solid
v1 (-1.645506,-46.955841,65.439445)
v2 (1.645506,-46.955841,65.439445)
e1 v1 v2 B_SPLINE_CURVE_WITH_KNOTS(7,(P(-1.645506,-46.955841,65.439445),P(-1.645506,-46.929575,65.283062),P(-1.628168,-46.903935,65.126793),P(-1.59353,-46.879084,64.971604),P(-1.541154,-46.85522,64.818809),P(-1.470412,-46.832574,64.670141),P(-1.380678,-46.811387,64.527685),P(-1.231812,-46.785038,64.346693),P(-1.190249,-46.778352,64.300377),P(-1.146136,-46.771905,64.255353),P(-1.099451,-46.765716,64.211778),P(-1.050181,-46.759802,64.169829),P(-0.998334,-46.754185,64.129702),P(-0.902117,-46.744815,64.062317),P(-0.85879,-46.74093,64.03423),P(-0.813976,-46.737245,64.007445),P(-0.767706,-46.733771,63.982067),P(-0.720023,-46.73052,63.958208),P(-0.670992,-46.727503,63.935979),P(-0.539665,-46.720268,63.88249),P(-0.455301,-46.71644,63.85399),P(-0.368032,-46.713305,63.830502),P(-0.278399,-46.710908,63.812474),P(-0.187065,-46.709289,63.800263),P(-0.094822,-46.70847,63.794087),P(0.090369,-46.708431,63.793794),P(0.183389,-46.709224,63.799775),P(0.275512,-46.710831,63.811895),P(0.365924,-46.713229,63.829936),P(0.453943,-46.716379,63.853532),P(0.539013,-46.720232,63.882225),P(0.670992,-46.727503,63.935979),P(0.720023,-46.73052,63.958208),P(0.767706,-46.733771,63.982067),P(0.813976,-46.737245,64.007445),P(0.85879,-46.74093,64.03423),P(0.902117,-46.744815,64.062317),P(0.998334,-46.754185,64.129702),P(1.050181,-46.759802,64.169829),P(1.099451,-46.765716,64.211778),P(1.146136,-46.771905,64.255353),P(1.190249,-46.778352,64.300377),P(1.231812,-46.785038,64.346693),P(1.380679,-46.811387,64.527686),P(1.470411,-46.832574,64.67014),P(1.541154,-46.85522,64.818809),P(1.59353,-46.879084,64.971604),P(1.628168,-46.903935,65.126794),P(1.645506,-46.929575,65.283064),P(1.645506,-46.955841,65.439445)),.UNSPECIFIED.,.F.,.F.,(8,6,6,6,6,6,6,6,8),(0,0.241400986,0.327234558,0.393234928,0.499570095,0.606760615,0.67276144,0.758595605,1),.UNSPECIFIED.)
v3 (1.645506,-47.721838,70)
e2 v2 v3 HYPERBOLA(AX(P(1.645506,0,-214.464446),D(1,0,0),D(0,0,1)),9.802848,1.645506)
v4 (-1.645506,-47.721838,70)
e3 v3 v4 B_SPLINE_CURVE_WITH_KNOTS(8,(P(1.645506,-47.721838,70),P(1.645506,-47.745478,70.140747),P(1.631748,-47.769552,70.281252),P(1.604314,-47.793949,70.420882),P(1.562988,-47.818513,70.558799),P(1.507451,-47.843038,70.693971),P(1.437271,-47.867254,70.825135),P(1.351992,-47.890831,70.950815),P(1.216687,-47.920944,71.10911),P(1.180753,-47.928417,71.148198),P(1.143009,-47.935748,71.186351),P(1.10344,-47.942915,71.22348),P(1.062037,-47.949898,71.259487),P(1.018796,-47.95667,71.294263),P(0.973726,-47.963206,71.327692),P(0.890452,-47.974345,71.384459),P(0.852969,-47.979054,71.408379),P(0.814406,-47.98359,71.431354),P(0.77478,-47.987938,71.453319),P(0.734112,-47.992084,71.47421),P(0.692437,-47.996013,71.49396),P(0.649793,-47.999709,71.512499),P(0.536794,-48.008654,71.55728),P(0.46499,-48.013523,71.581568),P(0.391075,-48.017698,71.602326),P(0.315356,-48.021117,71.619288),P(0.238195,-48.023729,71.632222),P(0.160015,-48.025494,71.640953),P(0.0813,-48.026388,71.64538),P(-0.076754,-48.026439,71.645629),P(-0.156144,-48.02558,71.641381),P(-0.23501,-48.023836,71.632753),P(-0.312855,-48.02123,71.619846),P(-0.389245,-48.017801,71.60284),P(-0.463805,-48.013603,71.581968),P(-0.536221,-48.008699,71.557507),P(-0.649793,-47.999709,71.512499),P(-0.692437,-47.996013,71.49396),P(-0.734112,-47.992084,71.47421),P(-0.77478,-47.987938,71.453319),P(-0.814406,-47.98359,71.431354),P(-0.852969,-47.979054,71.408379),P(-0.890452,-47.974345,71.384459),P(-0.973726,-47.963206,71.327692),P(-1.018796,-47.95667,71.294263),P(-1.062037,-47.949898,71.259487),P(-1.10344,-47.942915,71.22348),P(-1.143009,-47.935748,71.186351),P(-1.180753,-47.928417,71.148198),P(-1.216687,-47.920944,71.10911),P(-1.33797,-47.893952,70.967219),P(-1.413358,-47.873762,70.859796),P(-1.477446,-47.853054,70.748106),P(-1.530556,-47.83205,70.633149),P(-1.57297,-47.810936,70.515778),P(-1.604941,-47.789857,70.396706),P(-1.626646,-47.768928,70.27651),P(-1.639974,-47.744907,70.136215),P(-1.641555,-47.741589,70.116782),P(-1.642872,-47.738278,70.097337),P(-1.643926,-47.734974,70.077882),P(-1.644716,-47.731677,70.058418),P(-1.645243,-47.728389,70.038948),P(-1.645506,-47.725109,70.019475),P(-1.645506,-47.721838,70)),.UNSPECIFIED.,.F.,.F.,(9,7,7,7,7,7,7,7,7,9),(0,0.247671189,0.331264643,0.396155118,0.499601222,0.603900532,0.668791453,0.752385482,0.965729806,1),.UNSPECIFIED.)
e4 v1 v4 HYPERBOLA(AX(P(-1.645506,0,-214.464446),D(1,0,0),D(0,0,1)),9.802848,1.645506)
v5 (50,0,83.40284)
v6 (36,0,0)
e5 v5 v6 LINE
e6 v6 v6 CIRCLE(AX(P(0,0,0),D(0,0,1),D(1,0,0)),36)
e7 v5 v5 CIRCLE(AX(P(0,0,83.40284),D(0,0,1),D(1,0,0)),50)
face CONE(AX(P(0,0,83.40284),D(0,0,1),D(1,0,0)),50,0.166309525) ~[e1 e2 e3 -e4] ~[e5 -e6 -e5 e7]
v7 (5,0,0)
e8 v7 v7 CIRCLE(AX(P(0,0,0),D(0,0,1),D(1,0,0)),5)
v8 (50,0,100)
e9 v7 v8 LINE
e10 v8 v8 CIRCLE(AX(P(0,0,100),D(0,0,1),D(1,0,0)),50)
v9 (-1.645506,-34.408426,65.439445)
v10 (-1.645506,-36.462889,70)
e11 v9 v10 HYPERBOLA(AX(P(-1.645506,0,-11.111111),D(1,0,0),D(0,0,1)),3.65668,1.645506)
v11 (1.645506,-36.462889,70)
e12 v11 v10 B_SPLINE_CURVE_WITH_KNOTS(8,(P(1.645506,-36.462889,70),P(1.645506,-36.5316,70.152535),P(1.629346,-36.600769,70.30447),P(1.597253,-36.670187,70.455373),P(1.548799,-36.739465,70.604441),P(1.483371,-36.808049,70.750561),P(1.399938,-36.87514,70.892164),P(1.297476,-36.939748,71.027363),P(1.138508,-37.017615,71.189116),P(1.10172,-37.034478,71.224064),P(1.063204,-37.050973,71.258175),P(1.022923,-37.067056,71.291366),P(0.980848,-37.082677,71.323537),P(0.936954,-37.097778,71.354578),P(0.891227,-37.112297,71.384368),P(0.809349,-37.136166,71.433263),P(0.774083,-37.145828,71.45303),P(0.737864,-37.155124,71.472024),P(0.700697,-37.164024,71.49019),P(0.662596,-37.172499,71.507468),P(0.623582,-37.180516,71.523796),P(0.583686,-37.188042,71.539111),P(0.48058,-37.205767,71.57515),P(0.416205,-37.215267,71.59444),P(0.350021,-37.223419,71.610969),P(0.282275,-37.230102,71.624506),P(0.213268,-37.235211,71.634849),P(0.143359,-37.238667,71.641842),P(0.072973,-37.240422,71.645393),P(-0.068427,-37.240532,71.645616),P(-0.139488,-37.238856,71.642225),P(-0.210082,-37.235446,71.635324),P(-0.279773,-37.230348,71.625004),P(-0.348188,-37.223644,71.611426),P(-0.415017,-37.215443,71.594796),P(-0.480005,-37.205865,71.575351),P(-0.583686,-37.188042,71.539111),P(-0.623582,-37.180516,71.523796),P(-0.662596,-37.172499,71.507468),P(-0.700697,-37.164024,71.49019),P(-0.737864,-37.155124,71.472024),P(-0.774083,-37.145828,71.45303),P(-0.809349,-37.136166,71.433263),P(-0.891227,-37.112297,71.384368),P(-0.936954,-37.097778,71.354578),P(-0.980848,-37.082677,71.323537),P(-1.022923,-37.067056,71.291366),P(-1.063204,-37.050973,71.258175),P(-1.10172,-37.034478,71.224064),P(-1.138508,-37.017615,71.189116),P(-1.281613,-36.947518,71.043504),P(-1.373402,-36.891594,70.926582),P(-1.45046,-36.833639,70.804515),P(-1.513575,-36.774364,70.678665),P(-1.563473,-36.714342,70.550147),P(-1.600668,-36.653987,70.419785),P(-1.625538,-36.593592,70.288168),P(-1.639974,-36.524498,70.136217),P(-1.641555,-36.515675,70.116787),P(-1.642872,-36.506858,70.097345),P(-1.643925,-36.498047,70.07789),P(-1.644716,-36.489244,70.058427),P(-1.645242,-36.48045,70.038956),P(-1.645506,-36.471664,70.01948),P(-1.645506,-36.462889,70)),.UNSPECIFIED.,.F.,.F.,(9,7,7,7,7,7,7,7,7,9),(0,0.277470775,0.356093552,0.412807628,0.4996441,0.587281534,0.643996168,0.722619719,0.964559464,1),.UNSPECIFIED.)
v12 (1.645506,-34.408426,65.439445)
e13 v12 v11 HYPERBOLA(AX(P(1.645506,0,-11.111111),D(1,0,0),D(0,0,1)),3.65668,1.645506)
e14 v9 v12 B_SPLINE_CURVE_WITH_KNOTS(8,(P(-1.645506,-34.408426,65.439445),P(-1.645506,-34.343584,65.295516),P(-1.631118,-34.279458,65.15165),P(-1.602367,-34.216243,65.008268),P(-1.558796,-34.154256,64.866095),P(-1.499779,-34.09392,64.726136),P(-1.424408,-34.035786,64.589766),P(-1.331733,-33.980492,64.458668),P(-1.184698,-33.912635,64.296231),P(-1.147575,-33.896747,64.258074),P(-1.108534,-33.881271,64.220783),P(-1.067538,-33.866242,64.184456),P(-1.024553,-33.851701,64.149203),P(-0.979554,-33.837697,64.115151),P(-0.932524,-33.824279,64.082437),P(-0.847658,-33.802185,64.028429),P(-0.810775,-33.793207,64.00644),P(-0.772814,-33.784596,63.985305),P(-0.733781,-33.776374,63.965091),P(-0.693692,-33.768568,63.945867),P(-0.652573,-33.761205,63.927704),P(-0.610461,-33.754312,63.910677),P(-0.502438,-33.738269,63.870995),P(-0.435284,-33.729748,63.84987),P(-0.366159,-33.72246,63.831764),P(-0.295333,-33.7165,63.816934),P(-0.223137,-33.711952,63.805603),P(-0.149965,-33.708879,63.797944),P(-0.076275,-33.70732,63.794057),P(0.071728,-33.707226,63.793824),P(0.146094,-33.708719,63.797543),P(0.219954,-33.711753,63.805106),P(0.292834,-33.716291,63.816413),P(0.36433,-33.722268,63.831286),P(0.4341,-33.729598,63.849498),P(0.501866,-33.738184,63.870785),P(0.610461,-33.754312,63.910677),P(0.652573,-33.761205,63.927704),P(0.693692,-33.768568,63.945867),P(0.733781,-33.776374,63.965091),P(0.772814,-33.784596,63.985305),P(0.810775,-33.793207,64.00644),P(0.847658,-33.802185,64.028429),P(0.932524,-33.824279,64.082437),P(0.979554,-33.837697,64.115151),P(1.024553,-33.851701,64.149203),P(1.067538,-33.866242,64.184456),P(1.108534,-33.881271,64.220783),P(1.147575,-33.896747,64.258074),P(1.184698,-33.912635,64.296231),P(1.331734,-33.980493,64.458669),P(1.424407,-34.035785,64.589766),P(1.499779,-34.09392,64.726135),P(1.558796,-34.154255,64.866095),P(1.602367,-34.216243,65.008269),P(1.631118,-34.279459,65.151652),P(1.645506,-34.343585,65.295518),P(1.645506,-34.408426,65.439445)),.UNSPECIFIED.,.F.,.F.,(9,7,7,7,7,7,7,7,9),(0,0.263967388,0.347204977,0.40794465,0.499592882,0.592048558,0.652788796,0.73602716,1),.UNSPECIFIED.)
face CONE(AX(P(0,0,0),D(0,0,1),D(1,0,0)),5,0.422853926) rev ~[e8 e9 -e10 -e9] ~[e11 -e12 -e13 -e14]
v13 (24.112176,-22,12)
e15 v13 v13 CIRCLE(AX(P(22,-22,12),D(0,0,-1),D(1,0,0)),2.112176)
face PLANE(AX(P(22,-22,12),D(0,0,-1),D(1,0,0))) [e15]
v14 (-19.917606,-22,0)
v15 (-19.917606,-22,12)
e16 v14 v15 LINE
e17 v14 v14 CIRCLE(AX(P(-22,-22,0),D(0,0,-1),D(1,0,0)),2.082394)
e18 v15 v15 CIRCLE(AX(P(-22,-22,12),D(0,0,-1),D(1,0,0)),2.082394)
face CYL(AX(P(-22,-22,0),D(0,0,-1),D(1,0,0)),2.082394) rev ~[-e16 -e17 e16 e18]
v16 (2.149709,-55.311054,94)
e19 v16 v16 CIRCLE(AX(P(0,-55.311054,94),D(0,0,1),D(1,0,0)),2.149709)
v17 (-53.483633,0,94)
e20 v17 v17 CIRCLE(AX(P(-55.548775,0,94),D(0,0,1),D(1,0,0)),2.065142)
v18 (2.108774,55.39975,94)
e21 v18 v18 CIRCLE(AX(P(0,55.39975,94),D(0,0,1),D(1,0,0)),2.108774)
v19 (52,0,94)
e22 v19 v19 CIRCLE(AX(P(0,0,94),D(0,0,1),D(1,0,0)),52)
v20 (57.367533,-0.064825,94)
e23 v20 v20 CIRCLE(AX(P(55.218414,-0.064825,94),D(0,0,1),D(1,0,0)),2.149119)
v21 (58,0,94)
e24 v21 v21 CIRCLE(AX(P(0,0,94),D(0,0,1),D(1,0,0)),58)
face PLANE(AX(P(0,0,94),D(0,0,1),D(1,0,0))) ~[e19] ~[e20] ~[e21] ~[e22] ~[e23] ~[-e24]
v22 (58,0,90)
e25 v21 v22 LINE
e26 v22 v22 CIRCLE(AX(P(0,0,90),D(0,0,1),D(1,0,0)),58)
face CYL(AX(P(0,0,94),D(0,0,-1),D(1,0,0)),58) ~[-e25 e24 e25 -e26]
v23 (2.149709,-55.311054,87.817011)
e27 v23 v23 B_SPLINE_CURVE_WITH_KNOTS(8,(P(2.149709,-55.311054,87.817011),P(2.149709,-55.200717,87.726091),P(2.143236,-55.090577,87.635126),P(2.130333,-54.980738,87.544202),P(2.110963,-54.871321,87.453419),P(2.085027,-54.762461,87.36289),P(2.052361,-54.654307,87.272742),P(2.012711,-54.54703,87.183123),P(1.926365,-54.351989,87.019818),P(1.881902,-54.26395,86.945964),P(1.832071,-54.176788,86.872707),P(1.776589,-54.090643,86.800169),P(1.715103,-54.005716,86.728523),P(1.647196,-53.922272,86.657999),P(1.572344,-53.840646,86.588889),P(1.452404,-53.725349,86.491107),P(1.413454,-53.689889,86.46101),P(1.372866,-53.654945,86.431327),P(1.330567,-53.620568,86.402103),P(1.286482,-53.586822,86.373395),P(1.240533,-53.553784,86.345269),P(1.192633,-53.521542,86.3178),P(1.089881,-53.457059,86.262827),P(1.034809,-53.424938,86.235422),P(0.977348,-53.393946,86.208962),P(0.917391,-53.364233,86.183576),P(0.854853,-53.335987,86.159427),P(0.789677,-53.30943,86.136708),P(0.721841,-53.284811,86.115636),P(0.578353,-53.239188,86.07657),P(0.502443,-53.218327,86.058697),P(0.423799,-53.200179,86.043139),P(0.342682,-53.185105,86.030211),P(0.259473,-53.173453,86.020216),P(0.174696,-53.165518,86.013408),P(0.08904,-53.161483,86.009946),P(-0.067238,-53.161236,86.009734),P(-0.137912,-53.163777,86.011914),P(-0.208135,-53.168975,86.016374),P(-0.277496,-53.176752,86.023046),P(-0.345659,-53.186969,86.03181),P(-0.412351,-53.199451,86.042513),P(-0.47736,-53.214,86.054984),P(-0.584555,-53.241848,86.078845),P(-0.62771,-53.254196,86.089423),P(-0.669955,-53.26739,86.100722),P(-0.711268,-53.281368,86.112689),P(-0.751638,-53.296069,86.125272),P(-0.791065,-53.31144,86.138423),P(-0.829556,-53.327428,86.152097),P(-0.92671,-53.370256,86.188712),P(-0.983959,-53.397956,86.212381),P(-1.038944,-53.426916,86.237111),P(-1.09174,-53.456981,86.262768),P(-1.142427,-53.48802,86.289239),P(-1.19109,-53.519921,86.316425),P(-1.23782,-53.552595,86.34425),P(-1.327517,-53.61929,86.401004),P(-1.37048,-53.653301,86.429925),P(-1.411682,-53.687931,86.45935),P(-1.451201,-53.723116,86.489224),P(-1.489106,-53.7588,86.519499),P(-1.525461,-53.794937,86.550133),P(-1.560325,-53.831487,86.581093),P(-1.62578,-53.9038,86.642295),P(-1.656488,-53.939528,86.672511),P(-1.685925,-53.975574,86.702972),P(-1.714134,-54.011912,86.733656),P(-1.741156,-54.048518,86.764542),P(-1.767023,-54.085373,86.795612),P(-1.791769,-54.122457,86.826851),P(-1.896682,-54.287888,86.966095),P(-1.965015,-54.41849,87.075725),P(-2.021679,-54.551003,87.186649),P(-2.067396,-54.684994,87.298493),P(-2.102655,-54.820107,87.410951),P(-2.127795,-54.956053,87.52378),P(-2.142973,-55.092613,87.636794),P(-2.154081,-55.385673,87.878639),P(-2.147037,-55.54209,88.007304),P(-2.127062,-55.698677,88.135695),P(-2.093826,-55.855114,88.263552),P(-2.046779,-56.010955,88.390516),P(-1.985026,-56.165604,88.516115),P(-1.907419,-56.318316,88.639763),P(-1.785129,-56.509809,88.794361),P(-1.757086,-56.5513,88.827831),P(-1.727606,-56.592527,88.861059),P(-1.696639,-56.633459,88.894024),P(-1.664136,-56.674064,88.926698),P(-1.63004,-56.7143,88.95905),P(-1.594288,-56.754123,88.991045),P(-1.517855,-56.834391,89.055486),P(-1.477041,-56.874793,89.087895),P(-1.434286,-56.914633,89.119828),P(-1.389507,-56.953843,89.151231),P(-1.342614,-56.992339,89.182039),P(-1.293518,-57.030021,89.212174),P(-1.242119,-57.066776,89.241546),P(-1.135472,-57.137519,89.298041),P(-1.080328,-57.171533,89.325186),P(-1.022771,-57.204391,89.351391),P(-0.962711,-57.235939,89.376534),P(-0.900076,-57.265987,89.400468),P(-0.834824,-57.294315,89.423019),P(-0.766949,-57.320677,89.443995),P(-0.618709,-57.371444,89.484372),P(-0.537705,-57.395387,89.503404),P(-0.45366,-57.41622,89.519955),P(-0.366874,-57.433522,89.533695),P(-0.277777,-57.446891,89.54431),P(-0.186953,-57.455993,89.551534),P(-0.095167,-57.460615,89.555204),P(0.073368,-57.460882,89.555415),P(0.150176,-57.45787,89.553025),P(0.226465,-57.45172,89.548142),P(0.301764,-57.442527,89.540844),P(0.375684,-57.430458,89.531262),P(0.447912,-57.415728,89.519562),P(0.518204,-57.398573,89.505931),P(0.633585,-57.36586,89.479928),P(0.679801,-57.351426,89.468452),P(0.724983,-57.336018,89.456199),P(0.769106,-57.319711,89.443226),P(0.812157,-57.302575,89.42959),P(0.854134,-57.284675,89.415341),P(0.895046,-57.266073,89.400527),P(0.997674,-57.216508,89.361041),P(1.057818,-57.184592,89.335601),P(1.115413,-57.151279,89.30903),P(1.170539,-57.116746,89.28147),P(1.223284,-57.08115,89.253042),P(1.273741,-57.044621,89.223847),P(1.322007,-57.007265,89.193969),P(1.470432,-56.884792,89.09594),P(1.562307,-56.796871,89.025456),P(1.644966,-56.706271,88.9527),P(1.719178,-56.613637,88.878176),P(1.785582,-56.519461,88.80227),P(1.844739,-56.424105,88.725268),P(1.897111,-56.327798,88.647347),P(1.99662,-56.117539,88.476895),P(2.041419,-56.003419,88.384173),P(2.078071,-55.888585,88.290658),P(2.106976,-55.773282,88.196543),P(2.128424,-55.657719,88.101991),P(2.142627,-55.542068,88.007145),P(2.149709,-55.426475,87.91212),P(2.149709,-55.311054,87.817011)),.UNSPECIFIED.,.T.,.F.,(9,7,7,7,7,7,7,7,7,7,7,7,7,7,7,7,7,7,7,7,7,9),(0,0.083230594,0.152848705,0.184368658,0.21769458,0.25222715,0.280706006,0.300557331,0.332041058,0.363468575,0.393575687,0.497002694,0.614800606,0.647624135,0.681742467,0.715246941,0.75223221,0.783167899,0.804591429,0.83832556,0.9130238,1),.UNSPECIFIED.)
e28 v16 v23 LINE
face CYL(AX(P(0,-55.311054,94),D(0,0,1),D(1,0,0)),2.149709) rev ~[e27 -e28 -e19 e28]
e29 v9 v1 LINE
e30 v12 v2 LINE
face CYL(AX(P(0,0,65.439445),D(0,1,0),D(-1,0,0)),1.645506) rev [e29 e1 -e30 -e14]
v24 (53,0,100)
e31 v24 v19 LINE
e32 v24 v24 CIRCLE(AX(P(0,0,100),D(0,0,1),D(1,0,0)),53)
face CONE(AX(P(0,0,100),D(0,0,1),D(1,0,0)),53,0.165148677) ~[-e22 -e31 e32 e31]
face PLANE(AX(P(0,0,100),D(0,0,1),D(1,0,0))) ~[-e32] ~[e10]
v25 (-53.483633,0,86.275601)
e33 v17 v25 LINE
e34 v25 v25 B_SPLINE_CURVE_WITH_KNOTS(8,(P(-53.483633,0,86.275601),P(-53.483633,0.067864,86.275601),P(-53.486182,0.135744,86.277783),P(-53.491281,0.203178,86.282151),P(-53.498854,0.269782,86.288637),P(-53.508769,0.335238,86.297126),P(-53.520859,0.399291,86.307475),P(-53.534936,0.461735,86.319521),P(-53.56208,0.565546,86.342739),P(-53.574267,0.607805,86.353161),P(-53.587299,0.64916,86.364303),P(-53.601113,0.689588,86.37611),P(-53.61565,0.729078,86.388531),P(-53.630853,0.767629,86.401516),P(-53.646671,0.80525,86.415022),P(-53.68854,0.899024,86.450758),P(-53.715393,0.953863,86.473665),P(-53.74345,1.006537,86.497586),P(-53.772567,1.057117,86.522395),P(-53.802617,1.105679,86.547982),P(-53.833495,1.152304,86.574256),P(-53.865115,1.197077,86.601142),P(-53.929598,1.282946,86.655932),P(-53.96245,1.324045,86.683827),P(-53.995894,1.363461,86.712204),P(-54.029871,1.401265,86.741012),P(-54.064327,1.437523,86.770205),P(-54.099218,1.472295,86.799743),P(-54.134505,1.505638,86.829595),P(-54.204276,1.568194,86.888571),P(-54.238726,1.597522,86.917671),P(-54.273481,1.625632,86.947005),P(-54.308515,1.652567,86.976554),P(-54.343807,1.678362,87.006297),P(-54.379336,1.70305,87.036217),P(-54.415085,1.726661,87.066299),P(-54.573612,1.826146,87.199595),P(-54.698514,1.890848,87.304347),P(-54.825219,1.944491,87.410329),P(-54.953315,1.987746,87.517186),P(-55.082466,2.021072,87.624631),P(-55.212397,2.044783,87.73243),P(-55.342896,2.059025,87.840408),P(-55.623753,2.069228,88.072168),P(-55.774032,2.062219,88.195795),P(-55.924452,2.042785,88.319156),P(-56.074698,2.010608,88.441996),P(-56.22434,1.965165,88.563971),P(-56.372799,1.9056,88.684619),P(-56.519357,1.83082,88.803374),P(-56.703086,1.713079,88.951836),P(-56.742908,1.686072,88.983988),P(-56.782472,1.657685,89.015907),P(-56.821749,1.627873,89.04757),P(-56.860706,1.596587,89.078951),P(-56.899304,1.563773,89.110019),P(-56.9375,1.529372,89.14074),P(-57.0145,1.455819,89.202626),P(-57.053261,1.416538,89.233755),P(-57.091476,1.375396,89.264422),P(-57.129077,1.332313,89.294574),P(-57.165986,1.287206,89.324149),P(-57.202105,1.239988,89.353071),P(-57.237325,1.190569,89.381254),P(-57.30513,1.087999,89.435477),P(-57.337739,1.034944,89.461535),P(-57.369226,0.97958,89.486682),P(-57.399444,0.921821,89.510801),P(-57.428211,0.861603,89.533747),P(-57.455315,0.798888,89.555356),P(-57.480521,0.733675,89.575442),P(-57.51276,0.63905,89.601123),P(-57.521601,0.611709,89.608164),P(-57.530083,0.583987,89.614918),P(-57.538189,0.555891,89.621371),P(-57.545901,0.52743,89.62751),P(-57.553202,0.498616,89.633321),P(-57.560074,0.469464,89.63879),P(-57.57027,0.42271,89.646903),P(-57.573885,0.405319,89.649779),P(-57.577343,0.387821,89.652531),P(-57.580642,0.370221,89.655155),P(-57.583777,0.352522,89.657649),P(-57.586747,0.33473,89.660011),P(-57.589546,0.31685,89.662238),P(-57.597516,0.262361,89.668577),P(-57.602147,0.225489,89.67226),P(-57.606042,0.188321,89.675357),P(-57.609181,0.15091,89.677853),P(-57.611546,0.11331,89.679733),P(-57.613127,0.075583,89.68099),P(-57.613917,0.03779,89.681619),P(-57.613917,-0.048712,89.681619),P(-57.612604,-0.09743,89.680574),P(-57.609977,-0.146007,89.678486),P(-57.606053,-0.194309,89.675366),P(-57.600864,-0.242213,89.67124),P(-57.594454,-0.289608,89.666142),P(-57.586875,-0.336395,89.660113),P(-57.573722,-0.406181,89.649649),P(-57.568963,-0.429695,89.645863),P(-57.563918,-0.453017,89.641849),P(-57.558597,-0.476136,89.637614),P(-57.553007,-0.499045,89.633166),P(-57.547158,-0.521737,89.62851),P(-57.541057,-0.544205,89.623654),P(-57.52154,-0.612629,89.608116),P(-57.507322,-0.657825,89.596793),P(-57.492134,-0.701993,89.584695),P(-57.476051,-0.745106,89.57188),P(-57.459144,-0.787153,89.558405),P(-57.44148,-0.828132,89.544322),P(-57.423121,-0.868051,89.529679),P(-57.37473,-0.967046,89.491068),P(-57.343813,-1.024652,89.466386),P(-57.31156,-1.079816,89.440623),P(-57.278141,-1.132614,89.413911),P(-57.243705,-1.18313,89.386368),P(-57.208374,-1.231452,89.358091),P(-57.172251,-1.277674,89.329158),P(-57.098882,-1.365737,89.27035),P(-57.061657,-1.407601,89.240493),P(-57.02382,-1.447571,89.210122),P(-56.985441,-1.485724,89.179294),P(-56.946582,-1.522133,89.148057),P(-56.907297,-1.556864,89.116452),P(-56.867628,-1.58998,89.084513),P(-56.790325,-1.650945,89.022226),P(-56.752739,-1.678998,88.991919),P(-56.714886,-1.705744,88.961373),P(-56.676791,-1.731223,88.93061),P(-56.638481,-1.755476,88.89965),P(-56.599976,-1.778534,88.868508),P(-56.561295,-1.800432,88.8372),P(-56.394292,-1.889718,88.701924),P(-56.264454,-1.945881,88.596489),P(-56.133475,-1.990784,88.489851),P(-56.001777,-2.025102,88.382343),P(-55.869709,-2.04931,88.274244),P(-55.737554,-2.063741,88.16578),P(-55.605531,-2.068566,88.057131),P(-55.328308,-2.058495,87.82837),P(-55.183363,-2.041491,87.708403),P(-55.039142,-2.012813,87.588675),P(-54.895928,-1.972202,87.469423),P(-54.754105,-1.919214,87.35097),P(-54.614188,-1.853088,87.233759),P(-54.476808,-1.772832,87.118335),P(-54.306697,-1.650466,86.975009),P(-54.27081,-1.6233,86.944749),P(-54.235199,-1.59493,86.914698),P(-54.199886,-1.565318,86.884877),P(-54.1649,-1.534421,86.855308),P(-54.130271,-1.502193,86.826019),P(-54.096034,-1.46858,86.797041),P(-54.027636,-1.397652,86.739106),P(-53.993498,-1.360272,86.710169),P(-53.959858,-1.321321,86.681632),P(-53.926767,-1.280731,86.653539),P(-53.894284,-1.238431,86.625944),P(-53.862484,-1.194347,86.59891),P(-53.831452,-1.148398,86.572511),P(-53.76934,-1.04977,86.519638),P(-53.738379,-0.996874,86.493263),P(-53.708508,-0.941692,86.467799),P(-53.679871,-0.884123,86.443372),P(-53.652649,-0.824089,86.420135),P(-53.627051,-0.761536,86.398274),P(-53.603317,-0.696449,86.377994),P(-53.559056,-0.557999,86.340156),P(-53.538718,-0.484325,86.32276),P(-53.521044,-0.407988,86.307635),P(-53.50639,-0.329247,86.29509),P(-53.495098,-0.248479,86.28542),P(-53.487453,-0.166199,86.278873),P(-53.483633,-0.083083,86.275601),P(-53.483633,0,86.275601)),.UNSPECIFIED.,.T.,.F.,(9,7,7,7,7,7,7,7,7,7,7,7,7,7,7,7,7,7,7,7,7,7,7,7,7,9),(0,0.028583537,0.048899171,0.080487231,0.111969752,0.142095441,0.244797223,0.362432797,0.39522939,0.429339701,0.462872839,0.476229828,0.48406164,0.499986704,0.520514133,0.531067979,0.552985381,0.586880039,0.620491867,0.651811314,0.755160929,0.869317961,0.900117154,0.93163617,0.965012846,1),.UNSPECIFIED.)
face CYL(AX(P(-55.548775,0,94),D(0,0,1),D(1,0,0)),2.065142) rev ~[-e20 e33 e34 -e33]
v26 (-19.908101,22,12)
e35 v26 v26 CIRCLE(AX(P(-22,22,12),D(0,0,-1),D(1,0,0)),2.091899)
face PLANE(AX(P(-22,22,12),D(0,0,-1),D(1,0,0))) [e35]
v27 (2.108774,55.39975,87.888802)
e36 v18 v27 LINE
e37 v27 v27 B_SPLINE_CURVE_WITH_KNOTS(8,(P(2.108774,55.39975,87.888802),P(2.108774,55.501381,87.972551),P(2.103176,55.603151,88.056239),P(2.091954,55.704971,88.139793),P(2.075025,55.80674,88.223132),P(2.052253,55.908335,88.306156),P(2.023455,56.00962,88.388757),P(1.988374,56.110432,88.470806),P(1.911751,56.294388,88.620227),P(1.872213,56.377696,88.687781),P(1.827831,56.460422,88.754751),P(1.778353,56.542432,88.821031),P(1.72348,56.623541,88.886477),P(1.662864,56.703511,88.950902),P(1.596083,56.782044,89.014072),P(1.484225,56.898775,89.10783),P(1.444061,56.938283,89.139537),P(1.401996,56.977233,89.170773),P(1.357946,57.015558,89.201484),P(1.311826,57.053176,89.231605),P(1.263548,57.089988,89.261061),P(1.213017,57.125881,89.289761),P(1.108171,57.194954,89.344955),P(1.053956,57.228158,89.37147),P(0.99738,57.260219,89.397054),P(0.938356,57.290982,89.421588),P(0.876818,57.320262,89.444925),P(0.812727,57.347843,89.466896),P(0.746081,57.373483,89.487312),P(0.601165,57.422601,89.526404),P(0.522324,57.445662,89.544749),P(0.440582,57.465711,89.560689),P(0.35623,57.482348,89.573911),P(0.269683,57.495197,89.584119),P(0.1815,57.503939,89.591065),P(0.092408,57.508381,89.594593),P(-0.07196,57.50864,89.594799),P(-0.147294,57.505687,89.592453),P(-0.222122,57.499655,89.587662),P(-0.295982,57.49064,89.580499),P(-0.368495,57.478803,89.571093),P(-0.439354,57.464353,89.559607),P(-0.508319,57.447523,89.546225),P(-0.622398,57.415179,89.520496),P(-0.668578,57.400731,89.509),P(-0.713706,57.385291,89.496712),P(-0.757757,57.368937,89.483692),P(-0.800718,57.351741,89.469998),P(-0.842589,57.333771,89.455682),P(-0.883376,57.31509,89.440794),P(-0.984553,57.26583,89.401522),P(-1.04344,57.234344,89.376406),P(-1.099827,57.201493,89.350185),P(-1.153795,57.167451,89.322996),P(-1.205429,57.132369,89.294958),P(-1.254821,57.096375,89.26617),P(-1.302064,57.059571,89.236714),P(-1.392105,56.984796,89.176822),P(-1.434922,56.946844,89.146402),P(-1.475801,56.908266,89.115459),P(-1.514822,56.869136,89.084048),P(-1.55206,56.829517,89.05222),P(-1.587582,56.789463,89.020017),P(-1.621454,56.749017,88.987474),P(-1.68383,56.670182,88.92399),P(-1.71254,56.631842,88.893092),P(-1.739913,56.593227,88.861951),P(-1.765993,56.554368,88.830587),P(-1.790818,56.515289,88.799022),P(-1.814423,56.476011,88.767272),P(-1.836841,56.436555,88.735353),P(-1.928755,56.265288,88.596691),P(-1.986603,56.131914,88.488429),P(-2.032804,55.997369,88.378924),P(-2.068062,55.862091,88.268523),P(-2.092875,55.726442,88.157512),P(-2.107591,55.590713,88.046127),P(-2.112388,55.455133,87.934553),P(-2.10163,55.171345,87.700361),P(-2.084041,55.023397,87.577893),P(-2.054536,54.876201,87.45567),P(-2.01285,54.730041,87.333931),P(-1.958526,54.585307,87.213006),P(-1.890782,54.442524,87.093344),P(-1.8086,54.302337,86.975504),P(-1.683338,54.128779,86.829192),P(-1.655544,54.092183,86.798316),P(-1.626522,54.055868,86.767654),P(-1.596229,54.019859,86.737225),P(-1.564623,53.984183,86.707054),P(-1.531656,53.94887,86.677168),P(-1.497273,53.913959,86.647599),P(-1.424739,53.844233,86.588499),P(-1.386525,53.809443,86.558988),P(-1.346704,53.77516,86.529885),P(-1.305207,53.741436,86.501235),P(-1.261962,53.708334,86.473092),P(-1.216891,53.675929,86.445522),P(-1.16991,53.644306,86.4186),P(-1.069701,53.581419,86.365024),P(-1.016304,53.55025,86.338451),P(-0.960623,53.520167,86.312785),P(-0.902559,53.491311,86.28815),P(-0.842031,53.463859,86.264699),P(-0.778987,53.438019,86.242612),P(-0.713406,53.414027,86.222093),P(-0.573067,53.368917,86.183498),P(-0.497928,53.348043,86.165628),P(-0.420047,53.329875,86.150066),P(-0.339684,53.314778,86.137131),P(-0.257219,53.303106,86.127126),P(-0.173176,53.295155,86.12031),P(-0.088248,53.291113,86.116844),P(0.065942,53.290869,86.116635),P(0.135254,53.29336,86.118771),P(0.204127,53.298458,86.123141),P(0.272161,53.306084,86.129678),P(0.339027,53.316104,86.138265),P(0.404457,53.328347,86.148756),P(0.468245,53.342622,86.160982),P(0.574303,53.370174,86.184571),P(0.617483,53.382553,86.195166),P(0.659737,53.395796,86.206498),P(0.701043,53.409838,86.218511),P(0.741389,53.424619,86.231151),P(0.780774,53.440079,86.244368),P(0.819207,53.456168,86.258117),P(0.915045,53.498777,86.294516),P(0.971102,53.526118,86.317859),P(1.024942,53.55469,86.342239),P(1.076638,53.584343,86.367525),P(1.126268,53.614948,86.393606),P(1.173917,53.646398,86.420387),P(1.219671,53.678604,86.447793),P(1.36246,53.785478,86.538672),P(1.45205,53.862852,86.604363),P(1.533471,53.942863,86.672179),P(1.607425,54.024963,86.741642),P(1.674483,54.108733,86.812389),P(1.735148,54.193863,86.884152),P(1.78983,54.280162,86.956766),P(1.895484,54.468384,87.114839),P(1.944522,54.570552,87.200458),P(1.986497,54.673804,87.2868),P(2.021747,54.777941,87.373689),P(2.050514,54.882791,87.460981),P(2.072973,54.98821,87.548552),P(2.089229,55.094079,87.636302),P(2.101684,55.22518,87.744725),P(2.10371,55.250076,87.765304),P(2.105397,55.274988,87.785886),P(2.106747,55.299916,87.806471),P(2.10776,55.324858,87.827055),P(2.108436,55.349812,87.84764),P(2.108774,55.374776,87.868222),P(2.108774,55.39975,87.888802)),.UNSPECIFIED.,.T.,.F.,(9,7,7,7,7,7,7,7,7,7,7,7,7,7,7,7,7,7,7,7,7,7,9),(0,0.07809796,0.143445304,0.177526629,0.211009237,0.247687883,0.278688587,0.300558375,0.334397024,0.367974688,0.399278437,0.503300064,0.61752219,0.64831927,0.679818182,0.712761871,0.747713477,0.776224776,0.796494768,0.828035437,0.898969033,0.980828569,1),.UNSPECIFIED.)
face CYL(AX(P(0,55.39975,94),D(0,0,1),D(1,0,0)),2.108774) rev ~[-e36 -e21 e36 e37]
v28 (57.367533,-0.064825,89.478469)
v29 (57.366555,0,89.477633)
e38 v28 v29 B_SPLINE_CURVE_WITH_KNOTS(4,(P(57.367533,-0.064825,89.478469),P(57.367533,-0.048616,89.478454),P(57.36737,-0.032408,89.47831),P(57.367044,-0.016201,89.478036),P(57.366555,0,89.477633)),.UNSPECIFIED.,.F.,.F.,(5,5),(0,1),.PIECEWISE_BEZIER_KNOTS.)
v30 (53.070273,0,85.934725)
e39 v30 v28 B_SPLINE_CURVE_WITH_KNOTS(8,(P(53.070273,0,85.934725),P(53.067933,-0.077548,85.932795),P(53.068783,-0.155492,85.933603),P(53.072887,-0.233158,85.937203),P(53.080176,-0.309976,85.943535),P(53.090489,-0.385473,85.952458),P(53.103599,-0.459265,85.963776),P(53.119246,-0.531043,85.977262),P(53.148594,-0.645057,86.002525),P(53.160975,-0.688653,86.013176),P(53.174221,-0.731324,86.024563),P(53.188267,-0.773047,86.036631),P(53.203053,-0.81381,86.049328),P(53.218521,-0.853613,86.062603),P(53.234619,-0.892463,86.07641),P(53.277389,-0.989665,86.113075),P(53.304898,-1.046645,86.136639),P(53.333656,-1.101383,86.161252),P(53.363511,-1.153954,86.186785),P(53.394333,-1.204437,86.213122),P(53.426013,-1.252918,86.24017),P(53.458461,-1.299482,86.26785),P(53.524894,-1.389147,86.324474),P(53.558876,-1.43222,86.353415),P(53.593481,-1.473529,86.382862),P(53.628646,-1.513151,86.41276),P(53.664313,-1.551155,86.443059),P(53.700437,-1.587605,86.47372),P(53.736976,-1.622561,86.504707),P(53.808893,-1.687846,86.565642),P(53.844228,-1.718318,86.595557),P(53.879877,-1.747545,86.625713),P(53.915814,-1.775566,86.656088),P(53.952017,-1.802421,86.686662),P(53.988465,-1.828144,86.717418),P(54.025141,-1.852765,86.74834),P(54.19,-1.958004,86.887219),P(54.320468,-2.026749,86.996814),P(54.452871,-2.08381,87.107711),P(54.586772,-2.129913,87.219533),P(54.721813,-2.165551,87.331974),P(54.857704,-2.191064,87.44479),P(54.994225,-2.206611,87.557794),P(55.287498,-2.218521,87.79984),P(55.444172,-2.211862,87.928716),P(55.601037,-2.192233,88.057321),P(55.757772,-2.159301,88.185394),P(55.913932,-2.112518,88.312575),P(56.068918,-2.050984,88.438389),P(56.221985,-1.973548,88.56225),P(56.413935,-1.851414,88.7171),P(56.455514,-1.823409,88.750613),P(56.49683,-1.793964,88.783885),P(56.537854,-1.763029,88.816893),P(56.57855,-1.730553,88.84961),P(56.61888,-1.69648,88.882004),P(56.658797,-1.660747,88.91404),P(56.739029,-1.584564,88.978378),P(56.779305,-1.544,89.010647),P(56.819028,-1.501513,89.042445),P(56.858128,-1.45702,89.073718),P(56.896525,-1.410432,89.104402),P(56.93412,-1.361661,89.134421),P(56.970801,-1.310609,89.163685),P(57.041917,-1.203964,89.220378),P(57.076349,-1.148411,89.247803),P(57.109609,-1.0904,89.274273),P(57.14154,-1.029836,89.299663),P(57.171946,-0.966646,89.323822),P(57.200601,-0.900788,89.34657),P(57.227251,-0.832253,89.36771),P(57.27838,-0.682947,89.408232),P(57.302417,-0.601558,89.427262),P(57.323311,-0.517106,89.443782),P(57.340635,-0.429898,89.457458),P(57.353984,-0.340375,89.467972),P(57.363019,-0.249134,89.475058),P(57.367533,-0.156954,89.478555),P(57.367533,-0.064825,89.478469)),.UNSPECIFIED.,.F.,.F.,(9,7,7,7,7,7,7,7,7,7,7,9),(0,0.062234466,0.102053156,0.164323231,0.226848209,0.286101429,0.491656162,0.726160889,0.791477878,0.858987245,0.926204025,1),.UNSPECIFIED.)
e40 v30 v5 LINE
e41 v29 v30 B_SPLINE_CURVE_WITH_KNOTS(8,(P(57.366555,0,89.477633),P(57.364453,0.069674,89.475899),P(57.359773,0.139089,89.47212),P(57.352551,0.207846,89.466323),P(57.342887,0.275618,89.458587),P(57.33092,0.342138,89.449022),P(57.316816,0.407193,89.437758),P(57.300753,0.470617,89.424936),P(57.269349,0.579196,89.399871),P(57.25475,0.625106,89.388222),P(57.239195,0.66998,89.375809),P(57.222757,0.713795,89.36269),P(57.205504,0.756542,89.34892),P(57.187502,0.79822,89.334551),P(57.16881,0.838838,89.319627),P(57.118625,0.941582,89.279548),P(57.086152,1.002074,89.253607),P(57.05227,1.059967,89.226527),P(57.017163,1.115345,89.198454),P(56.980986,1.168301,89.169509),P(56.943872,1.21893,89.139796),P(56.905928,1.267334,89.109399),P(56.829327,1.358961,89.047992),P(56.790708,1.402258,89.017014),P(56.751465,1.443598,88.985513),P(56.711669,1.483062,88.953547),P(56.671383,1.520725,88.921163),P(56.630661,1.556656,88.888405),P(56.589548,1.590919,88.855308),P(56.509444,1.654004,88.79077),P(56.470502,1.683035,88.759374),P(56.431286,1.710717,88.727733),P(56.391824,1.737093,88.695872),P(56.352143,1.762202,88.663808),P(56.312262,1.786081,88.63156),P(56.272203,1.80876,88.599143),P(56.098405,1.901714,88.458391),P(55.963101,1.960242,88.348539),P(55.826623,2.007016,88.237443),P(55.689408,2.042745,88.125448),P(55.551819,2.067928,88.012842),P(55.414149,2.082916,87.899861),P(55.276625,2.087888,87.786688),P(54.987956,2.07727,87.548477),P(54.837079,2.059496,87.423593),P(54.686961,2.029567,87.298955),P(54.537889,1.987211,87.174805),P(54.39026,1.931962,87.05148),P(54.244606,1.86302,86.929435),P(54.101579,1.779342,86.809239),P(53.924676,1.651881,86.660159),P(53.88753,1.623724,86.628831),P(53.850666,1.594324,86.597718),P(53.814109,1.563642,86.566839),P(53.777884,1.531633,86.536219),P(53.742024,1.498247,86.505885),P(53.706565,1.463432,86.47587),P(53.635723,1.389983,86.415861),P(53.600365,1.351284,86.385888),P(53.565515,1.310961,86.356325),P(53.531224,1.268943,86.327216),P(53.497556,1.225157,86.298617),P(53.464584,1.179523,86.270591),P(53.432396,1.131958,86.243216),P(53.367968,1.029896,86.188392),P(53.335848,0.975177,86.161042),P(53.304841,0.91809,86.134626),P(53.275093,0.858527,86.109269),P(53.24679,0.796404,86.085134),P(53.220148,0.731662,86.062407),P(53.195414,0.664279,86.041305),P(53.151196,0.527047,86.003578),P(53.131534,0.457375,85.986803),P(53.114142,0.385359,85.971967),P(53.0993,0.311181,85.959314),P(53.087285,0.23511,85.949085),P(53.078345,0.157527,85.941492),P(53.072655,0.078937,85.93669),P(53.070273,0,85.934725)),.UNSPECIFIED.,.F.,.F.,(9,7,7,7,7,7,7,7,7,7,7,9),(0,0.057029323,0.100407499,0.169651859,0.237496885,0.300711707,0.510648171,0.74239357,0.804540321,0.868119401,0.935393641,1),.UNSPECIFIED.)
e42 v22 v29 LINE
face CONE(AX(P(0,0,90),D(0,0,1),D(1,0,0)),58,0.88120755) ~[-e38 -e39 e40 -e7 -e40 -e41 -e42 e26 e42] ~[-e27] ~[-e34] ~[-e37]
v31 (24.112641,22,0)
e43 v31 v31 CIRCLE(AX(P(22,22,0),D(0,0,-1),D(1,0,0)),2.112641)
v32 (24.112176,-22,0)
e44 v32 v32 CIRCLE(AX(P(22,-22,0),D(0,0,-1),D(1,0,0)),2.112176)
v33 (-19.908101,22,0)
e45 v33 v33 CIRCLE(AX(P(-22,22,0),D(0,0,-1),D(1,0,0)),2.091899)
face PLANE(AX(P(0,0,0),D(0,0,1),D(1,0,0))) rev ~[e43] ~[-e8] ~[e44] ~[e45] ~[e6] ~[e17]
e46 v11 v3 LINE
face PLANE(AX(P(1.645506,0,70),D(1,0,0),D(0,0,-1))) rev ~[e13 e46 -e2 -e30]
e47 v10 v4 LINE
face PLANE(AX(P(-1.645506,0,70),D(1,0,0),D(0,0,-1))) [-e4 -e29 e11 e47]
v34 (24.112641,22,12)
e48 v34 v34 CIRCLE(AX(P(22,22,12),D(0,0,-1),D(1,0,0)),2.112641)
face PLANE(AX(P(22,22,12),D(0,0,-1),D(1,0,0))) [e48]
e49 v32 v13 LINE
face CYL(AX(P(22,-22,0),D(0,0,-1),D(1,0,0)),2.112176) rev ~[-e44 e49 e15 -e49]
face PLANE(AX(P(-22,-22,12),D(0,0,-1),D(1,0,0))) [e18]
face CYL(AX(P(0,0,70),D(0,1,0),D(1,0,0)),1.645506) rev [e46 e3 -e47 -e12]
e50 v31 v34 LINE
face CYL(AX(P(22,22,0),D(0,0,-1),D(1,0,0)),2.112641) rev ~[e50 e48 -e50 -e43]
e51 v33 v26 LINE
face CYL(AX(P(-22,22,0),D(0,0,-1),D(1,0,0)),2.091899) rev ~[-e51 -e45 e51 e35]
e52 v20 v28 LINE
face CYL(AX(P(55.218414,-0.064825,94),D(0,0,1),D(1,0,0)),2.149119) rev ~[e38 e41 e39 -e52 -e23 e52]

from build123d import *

# Parameters (mm, degrees)
PAD_DEPTH       = 50
SKETCH_R        = 2.112176
SKETCH_R_2      = 2.082394
SKETCH_R_3      = 2.112641
SKETCH_R_4      = 2.091899
POCKET001_DEPTH = 12
SKETCH005_R     = 2.149119
SKETCH005_R_2   = 2.108774
SKETCH005_R_3   = 2.065142
SKETCH005_R_4   = 2.149709
POCKET002_DEPTH = 15


with BuildPart() as pad:
    # Sketch004 → Pad (new body)
    with BuildSketch(Plane.XZ):
        with BuildLine():
            ThreePointArc((1.645506, 70), (0, 71.645506), (-1.645506, 70))
            Line((-1.645506, 70), (-1.645506, 65.439445))
            ThreePointArc((-1.645506, 65.439445), (0, 63.793939), (1.645506, 65.439445))
            Line((1.645506, 70), (1.645506, 65.439445))
        make_face()
    extrude(amount=PAD_DEPTH)


with BuildPart() as assemblya_funnel:
    # Sketch003 → Revolution001 (revolve)
    with BuildSketch(Plane.XZ):
        Polygon((5, 0), (50, 100), (53, 100), (52, 94), (58, 94), (58, 90), (50, 83.40284), (36, 0), align=None)
    revolve(axis=Axis((0, 0, 0), (0, 0, 1)))

    # Sketch → Pocket001 (cut)
    with BuildSketch(Plane(origin=(0, 0, 0), x_dir=(1, 0, 0), z_dir=(0, 0, -1))):
        with Locations((22, 22)):
            Circle(SKETCH_R)
        with Locations((-22, 22)):
            Circle(SKETCH_R_2)
        with Locations((22, -22)):
            Circle(SKETCH_R_3)
        with Locations((-22, -22)):
            Circle(SKETCH_R_4)
    extrude(amount=-POCKET001_DEPTH, mode=Mode.SUBTRACT)

    # Cut: cut Pad
    add(pad.part, mode=Mode.SUBTRACT)

    # Sketch005 → Pocket002 (cut)
    with BuildSketch(Plane.XY.offset(94)):
        with Locations((55.218414, -0.064825)):
            Circle(SKETCH005_R)
        with Locations((0, 55.39975)):
            Circle(SKETCH005_R_2)
        with Locations((-55.548775, 0)):
            Circle(SKETCH005_R_3)
        with Locations((0, -55.311054)):
            Circle(SKETCH005_R_4)
    extrude(amount=-POCKET002_DEPTH, mode=Mode.SUBTRACT)


solid = assemblya_funnel.part
